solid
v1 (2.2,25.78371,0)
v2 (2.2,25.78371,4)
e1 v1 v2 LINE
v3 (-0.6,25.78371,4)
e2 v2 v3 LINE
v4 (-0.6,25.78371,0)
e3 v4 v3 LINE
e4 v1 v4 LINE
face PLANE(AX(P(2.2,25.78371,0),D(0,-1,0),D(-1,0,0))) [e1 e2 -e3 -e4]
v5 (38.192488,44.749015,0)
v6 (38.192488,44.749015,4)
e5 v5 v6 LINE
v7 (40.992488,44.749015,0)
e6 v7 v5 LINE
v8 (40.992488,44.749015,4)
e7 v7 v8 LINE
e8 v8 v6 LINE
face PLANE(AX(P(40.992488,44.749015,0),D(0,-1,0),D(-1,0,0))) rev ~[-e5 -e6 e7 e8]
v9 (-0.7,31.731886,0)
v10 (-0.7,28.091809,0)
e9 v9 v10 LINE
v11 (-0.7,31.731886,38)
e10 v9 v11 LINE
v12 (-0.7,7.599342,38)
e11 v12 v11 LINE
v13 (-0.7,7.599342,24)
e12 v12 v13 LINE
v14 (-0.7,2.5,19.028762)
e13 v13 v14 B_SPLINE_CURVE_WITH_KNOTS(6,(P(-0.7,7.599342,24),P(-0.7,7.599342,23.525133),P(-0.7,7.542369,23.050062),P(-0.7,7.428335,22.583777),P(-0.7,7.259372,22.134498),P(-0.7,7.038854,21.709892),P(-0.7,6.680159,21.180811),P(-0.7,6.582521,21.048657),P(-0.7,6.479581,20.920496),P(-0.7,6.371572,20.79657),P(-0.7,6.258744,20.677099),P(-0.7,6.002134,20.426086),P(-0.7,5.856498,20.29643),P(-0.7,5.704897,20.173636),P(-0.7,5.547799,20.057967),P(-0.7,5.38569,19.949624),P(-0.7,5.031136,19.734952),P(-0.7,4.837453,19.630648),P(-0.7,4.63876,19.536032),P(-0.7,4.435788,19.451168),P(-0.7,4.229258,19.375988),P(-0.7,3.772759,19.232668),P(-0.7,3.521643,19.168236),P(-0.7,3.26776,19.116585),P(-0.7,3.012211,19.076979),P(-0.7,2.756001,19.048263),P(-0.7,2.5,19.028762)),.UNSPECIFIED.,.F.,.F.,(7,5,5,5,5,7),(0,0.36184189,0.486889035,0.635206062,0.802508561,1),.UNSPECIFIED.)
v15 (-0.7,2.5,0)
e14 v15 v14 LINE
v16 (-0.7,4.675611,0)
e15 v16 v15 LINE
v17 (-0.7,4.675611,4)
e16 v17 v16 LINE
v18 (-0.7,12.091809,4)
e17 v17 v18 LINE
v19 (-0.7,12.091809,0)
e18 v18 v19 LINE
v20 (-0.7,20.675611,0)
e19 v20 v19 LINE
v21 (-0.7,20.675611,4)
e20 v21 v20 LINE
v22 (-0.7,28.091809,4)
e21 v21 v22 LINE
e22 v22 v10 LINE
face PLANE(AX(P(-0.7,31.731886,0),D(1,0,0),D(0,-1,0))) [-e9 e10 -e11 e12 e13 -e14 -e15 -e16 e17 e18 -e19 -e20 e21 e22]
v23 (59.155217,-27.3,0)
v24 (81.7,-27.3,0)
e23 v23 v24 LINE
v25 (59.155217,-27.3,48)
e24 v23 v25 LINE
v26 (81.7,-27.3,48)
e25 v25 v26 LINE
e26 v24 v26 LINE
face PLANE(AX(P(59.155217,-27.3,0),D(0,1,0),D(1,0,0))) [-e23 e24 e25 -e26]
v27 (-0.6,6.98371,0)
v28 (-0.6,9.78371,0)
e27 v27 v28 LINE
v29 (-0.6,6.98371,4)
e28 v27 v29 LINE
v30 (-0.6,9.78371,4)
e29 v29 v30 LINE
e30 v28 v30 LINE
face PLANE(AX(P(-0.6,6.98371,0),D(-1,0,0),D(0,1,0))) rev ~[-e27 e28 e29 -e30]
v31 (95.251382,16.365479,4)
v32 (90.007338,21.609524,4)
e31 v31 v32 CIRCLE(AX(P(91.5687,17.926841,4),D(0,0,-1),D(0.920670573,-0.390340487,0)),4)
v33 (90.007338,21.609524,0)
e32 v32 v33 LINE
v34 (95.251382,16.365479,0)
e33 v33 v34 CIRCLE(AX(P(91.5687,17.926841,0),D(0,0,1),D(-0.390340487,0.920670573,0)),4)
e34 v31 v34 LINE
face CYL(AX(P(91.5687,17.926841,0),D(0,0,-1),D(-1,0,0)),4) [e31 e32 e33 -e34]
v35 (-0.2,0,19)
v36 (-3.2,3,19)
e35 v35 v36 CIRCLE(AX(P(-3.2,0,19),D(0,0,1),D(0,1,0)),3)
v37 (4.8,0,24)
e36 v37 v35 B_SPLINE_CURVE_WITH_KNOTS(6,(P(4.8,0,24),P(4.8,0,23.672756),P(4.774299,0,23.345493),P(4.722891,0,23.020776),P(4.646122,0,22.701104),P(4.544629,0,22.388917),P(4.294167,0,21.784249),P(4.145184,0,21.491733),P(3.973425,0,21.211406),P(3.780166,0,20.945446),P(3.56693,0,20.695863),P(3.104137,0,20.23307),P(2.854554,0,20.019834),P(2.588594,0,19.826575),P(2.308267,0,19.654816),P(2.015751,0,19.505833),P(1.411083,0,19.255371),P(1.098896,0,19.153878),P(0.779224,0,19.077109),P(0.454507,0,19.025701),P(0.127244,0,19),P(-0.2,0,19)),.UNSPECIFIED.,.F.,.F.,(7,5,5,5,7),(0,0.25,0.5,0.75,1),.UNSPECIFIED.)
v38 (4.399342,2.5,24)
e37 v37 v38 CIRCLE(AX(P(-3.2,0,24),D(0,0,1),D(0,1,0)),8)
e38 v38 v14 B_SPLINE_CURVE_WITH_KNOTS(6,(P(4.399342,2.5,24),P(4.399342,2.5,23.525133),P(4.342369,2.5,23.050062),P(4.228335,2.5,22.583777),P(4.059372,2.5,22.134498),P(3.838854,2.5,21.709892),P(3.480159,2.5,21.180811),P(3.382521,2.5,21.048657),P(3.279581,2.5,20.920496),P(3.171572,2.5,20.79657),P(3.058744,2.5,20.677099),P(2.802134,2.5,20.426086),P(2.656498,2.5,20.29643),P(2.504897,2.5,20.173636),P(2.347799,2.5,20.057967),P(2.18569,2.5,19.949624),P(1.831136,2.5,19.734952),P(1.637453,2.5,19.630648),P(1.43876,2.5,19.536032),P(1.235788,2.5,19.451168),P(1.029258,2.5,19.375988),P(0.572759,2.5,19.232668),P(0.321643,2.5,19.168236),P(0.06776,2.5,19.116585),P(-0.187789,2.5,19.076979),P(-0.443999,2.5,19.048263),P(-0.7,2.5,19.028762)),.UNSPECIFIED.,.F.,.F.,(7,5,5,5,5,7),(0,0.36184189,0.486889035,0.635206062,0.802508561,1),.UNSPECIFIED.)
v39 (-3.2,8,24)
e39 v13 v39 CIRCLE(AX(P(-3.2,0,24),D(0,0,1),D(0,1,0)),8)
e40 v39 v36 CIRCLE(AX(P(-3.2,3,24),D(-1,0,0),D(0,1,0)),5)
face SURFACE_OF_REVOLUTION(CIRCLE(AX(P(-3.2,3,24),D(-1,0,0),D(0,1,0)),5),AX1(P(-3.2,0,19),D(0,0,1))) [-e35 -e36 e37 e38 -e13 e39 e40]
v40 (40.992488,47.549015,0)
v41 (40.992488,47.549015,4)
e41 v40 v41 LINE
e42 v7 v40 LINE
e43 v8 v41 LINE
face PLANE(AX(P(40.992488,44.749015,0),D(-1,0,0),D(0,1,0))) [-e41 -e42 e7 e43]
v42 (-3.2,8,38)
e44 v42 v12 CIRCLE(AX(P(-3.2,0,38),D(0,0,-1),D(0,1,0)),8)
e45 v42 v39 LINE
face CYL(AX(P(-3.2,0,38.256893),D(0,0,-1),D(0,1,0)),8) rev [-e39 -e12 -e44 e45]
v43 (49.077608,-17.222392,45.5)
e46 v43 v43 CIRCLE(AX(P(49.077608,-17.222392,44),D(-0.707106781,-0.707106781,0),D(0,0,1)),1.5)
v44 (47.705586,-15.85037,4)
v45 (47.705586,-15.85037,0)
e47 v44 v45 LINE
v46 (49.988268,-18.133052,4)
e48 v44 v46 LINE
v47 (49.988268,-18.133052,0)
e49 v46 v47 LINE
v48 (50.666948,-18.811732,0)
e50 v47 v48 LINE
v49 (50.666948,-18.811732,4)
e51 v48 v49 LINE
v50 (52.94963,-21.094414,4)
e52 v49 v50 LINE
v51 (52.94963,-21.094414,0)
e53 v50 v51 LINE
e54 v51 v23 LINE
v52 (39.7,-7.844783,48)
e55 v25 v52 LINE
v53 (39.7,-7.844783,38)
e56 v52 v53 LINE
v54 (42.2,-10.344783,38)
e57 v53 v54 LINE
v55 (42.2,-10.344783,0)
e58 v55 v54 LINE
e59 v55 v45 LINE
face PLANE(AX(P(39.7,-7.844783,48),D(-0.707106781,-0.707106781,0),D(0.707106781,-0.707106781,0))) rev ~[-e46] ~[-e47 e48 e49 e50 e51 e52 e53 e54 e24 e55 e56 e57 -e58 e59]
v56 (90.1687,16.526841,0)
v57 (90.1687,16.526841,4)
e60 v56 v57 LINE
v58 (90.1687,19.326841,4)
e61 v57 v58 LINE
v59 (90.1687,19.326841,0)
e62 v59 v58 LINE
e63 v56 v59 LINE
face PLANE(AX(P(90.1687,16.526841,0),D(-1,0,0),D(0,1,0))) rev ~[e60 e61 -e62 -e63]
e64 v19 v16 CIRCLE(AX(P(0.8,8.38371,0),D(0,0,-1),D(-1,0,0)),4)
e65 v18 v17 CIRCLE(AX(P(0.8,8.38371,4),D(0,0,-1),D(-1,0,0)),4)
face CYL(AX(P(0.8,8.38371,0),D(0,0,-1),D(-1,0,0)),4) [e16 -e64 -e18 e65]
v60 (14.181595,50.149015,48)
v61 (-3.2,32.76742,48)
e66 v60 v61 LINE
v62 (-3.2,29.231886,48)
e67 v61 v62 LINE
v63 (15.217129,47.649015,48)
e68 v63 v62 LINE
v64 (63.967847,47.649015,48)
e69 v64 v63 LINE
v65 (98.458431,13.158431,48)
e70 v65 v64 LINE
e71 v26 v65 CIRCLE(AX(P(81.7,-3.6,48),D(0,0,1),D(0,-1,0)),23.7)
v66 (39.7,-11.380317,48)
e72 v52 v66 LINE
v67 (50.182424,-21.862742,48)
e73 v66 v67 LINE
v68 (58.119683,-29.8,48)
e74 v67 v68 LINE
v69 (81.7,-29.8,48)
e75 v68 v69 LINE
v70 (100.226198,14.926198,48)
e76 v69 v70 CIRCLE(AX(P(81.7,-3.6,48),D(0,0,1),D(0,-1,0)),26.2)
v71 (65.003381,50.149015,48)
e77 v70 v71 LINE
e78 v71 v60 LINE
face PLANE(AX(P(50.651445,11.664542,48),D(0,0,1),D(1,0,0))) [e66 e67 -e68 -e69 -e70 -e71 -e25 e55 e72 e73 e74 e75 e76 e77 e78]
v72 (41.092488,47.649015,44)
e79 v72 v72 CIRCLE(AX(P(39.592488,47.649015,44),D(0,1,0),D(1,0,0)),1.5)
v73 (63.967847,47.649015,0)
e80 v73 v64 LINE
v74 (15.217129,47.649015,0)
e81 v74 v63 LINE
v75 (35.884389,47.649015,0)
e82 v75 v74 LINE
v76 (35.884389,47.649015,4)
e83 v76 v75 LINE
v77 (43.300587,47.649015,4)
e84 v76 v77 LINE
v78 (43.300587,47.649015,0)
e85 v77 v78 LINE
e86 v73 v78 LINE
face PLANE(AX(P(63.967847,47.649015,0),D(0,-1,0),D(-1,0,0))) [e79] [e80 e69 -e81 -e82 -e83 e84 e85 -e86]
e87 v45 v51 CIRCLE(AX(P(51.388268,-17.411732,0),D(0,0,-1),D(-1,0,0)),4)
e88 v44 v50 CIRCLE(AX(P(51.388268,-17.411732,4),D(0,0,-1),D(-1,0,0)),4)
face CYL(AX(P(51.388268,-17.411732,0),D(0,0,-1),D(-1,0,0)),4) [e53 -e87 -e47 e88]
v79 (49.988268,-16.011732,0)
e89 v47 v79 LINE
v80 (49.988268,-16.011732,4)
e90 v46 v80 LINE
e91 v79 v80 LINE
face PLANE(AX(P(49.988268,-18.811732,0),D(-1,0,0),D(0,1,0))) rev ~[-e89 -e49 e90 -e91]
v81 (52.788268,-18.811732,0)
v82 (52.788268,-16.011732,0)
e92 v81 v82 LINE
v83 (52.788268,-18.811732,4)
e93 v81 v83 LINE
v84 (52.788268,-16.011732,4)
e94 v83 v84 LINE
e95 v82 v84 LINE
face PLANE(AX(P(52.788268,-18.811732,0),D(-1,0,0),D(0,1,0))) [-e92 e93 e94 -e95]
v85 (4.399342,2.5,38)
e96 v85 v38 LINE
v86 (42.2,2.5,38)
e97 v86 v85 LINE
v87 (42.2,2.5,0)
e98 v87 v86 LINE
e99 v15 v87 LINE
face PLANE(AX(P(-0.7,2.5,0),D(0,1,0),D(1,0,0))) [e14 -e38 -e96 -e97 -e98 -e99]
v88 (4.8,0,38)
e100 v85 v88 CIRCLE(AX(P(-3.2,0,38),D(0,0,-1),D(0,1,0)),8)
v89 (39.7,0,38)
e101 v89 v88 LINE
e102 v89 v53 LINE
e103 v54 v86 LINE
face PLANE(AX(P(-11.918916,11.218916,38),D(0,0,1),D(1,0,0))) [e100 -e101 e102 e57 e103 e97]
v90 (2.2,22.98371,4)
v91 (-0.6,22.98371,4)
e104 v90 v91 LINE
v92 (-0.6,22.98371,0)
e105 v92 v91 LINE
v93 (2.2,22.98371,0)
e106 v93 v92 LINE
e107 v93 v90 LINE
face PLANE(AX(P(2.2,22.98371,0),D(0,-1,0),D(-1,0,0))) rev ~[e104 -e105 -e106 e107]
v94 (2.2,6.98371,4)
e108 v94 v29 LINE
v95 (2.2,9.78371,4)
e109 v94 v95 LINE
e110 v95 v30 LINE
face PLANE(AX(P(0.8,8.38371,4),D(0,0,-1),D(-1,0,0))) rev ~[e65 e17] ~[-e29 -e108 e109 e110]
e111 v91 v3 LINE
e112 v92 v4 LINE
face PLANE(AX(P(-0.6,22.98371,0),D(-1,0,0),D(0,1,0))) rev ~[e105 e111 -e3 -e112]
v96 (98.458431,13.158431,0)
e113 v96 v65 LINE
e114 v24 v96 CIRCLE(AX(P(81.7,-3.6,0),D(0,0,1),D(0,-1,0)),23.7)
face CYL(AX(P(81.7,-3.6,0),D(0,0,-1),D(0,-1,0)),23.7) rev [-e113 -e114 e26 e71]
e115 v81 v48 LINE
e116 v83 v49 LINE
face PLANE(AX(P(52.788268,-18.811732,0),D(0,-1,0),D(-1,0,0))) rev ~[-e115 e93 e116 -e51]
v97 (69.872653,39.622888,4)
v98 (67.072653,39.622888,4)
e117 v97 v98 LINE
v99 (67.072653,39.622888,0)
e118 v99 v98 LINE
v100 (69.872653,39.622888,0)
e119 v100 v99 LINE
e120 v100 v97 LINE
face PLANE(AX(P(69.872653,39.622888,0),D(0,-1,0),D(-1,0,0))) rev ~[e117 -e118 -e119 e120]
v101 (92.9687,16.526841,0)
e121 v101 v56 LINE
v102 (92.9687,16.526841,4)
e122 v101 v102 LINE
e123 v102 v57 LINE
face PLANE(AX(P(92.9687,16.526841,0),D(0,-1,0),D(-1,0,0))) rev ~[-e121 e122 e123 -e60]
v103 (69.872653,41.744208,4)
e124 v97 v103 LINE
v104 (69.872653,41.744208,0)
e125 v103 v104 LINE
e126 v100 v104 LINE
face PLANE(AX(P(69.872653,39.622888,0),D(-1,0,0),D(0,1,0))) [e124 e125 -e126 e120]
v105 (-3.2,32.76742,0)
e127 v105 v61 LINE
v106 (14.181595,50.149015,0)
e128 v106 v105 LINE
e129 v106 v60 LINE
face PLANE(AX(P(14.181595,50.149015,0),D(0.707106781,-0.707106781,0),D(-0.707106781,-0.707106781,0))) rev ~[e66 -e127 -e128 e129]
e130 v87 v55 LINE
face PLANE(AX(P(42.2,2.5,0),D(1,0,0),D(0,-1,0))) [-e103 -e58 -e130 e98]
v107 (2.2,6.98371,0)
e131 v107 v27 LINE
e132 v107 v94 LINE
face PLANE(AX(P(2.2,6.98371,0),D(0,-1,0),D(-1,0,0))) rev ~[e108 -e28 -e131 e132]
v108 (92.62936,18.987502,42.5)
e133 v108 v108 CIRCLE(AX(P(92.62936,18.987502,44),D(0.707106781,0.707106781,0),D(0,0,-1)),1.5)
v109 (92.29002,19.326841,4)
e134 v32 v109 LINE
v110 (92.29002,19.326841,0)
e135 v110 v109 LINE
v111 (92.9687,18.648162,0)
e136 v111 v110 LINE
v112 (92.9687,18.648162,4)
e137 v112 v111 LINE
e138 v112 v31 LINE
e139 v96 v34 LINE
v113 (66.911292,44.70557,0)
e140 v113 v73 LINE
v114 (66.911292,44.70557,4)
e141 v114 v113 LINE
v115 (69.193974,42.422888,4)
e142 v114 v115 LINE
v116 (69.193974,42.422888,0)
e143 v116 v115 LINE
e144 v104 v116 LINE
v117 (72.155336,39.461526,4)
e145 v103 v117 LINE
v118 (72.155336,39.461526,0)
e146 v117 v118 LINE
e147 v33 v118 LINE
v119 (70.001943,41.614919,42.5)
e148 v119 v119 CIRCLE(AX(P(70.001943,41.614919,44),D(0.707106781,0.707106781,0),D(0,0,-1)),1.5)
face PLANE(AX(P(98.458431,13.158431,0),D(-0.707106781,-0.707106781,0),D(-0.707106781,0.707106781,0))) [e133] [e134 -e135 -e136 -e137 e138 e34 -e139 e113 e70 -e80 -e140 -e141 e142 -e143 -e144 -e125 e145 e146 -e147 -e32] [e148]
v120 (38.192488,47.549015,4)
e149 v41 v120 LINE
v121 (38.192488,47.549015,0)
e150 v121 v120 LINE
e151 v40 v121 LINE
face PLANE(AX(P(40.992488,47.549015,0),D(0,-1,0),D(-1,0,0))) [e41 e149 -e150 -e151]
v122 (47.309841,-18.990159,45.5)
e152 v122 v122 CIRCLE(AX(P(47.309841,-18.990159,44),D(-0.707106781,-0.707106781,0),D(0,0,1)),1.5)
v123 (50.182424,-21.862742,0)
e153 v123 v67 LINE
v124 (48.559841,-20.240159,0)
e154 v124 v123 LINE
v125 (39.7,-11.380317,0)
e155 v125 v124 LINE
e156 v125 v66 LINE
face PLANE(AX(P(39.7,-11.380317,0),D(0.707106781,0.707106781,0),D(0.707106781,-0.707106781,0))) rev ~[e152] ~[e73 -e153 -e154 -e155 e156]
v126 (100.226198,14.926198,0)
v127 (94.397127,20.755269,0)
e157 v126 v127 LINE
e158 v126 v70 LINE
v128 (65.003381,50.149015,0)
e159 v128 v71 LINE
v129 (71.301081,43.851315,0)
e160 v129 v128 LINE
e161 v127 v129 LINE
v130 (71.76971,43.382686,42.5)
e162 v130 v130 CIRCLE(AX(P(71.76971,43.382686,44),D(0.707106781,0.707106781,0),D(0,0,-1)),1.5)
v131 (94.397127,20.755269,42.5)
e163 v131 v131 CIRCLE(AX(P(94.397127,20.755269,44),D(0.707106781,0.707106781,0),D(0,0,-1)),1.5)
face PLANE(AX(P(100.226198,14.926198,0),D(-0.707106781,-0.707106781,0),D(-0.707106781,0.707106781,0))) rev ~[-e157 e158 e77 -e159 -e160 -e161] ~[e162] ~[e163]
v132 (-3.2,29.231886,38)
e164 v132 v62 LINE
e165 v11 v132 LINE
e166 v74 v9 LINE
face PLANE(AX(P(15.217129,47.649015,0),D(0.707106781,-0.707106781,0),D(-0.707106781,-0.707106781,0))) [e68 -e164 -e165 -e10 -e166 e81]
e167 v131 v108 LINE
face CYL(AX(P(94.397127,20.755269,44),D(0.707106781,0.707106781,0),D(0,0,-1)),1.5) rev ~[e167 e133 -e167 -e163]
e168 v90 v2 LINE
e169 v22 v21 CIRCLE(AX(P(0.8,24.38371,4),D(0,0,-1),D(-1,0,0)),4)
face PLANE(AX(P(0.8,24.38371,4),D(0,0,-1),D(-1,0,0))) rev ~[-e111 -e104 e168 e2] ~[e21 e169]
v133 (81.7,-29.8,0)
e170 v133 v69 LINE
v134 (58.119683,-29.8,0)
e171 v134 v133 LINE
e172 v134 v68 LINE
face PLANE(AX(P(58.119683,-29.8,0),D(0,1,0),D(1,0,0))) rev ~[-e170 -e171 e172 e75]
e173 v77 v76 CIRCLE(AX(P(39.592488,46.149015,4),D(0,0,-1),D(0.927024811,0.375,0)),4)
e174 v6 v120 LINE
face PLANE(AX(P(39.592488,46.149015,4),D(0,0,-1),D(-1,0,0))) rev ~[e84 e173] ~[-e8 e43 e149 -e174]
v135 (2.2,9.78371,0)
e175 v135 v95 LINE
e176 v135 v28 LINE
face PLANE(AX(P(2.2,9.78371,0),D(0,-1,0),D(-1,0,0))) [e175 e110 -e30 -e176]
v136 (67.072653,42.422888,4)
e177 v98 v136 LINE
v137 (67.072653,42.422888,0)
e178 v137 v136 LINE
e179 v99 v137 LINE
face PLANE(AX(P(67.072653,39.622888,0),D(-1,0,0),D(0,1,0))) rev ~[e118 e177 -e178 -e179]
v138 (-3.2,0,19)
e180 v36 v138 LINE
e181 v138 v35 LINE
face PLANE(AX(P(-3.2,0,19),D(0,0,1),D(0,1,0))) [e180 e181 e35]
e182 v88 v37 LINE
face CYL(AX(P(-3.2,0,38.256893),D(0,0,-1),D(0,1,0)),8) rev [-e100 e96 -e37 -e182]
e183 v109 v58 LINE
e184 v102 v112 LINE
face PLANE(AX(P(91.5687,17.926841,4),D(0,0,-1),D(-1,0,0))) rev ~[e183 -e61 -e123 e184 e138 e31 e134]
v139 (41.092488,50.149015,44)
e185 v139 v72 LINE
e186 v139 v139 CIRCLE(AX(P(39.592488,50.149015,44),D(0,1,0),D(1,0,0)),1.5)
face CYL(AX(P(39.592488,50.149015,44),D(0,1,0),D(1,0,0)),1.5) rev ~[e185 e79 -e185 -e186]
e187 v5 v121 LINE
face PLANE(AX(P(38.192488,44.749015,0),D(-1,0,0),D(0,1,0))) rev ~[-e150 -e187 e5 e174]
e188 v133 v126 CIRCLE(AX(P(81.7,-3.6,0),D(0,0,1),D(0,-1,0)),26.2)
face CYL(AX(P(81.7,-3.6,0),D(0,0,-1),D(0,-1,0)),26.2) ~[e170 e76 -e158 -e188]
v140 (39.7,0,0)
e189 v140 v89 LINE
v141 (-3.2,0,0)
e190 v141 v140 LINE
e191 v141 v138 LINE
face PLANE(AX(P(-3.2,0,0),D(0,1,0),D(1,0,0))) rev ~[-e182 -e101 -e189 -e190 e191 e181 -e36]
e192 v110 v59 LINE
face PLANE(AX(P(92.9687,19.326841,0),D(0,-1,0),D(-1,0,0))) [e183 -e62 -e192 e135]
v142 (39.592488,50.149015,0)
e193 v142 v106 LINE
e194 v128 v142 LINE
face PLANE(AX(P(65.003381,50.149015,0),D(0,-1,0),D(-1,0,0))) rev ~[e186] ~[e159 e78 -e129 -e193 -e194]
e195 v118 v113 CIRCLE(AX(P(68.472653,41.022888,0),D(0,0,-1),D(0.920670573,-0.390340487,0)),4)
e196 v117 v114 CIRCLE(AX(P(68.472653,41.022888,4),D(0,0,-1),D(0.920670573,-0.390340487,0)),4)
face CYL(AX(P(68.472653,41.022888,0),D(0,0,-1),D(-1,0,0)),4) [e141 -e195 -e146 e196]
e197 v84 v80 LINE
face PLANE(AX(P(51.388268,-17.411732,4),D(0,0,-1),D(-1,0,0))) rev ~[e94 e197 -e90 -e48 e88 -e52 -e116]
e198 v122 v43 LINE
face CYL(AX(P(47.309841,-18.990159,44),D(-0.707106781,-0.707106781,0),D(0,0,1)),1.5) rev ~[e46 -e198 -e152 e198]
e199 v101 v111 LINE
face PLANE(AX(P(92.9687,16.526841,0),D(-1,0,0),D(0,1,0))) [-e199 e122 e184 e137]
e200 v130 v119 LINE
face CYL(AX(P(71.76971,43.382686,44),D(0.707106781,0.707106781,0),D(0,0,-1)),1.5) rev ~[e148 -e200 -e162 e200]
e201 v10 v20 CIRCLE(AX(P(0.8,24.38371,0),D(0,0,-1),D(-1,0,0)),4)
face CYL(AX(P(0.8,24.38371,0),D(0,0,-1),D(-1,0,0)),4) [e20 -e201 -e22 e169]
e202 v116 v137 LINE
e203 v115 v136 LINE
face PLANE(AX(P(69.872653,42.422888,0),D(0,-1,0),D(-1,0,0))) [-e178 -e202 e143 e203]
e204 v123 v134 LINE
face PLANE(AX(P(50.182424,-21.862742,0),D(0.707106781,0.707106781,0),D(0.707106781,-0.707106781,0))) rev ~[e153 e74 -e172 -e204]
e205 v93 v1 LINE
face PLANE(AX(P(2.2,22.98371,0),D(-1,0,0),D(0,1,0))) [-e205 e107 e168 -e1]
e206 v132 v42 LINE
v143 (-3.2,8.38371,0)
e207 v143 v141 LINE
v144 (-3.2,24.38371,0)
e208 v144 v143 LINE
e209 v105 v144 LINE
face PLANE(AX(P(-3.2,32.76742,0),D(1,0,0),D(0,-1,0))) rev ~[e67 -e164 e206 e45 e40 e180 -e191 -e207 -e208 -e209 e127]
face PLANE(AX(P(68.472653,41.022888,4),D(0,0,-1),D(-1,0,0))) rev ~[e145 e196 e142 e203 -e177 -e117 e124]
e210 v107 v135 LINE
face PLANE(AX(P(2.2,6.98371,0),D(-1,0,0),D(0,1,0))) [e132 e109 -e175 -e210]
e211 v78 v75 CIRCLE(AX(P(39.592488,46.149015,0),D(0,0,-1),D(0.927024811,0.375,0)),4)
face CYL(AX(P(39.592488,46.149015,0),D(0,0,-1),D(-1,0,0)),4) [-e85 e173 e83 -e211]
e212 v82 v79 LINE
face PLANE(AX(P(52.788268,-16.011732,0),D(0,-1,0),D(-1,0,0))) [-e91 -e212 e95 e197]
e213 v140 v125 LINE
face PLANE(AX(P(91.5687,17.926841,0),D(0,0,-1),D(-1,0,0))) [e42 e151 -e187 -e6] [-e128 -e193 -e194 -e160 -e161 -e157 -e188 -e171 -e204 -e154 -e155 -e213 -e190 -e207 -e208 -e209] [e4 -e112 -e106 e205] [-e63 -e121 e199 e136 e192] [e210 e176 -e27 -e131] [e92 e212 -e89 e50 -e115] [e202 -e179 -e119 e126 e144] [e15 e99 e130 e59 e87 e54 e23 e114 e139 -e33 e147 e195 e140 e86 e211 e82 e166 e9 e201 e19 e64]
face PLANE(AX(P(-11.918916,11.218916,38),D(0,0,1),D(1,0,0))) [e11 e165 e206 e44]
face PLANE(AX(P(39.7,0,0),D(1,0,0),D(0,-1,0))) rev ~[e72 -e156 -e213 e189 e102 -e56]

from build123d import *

# Parameters (mm, degrees)
RESSALTO_EXTRUS_O1_DEPTH = 48
ESBO_O12_R               = 1.5
CORTE_EXTRUS_O10_DEPTH   = 10
ESBO_O13_R               = 1.5
CORTE_EXTRUS_O11_DEPTH   = 10
ESBO_O14_R               = 1.5
CORTE_EXTRUS_O12_DEPTH   = 10
ESBO_O15_R               = 1.5
CORTE_EXTRUS_O13_DEPTH   = 10
CORTE_EXTRUS_O14_DEPTH   = 10
ESBO_O17_R               = 4
ESBO_O17_W               = 2.8
ESBO_O17_H               = 2.8
RESSALTO_EXTRUS_O2_DEPTH = 4
CORTE_EXTRUS_O15_DEPTH   = 10


with BuildPart() as part:
    # Model → Ressalto-extrusão1 (new body)
    with BuildSketch(Plane.XY):
        with BuildLine():
            Line((-0.7, 0), (39, 0))
            Line((39, 0), (39.7, 0))
            Line((39.7, 0), (39.7, -11.380317396))
            Line((39.7, -11.380317396), (50.182424304, -21.8627417))
            Line((50.182424304, -21.8627417), (58.119682605, -29.8))
            Line((58.119682605, -29.8), (81.7, -29.8))
            ThreePointArc((81.7, -29.8), (105.905643752, -13.626305928), (100.226197667, 14.926197667))
            Line((100.226197667, 14.926197667), (65.00338056, 50.149014774))
            Line((65.00338056, 50.149014774), (50.111140335, 50.149014774))
            Line((50.111140335, 50.149014774), (14.181595121, 50.149014774))
            Line((14.181595121, 50.149014774), (-3.2, 32.767419653))
            Line((-3.2, 32.767419653), (-3.2, 5))
            Line((-3.2, 5), (-3.2, 0))
            Line((-3.2, 0), (-0.7, 0))
        make_face()
        with BuildLine():
            Line((-0.7, 2.5), (39, 2.5))
            Line((39, 2.5), (39.7, 2.5))
            Line((39.7, 2.5), (42.2, 2.5))
            Line((42.2, 2.5), (42.2, -10.34478349))
            Line((42.2, -10.34478349), (51.950191257, -20.094974747))
            Line((51.950191257, -20.094974747), (59.15521651, -27.3))
            Line((59.15521651, -27.3), (81.7, -27.3))
            ThreePointArc((81.7, -27.3), (103.595944921, -12.669597347), (98.458430714, 13.158430714))
            Line((98.458430714, 13.158430714), (63.967846654, 47.649014774))
            Line((63.967846654, 47.649014774), (50.111140335, 47.649014774))
            Line((50.111140335, 47.649014774), (15.217129027, 47.649014774))
            Line((15.217129027, 47.649014774), (-0.7, 31.731885747))
            Line((-0.7, 31.731885747), (-0.7, 2.5))
        make_face(mode=Mode.SUBTRACT)
    extrude(amount=RESSALTO_EXTRUS_O1_DEPTH)

    # Esboço12 → Corte-extrusão10 (cut)
    with BuildSketch(Plane(origin=(57.576197667, 57.576197667, 0), x_dir=(0, 0, -1), z_dir=(0.707106781, 0.707106781, 0))):
        with Locations((-44, -20.072657306)):
            Circle(ESBO_O12_R)
        with Locations((-44, -52.072657306)):
            Circle(ESBO_O12_R)
    extrude(amount=-CORTE_EXTRUS_O10_DEPTH, mode=Mode.SUBTRACT)

    # Esboço13 → Corte-extrusão11 (cut)
    with BuildSketch(Plane(origin=(0, 50.149014774, 0), x_dir=(1, 0, 0), z_dir=(0, 1, 0))):
        with Locations((39.59248784, -44)):
            Circle(ESBO_O13_R)
    extrude(amount=-CORTE_EXTRUS_O11_DEPTH, mode=Mode.SUBTRACT)

    # Esboço14 → Corte-extrusão12 (cut)
    with BuildSketch(Plane.ZY.offset(3.2)):
        with Locations((44, 23.701037279)):
            Circle(ESBO_O14_R)
        with Locations((44, 7.740898975)):
            Circle(ESBO_O14_R)
    extrude(amount=-CORTE_EXTRUS_O12_DEPTH, mode=Mode.SUBTRACT)

    # Esboço15 → Corte-extrusão13 (cut)
    with BuildSketch(Plane(origin=(14.159841302, 14.159841302, 0), x_dir=(0, 0, 1), z_dir=(-0.707106781, -0.707106781, 0))):
        with Locations((44, -46.881179593)):
            Circle(ESBO_O15_R)
    extrude(amount=-CORTE_EXTRUS_O13_DEPTH, mode=Mode.SUBTRACT)

    # Esboço16 → Corte-extrusão14 (cut)
    with BuildSketch(Plane.XY.offset(48)):
        Polygon((39.7, 0), (39.7, -7.84478349), (42.2, -10.34478349), (42.2, 2.5), (-0.7, 2.5), (-0.7, 0), align=None)
    extrude(amount=-CORTE_EXTRUS_O14_DEPTH, mode=Mode.SUBTRACT)

    # Esboço17 → Ressalto-extrusão2 (add)
    with BuildSketch(Plane(origin=(0, 0, 0), x_dir=(-1, 0, 0), z_dir=(0, 0, -1))):
        with Locations((-91.568699638, 17.926841447)):
            Circle(ESBO_O17_R)
        with Locations((-91.568699638, 17.926841447)):
            Rectangle(ESBO_O17_W, ESBO_O17_H, mode=Mode.SUBTRACT)
        with Locations((-68.47265349, 41.022887595)):
            Circle(ESBO_O17_R)
        with Locations((-68.47265349, 41.022887595)):
            Rectangle(ESBO_O17_W, ESBO_O17_H, mode=Mode.SUBTRACT)
        with Locations((-39.59248784, 46.149014774)):
            Circle(ESBO_O17_R)
        with Locations((-39.59248784, 46.149014774)):
            Rectangle(ESBO_O17_W, ESBO_O17_H, mode=Mode.SUBTRACT)
        with Locations((-0.8, 24.383709827)):
            Circle(ESBO_O17_R)
        with Locations((-0.8, 24.383709827)):
            Rectangle(ESBO_O17_W, ESBO_O17_H, mode=Mode.SUBTRACT)
        with Locations((-0.8, 8.383709827)):
            Circle(ESBO_O17_R)
        with Locations((-0.8, 8.383709827)):
            Rectangle(ESBO_O17_W, ESBO_O17_H, mode=Mode.SUBTRACT)
        with Locations((-51.388268427, -17.411731573)):
            Circle(ESBO_O17_R)
        with Locations((-51.388268427, -17.411731573)):
            Rectangle(ESBO_O17_W, ESBO_O17_H, mode=Mode.SUBTRACT)
    extrude(amount=-RESSALTO_EXTRUS_O2_DEPTH)

    # Esboço18 → Corte-extrusão15 (cut)
    with BuildSketch(Plane.XY.offset(48)):
        Polygon((-0.7, 31.731885747), (-32.431885747, 0), (-0.7, 0), align=None)
    extrude(amount=-CORTE_EXTRUS_O15_DEPTH, mode=Mode.SUBTRACT)

    # Esboço19 → Corte-Revolução1 (revolve, cut)
    with BuildSketch(Plane.ZY.offset(3.2)):
        with BuildLine():
            Line((19, 0), (29, 0))
            Line((29, 0), (38.25689259, 0))
            Line((38.25689259, 0), (38.25689259, 8))
            Line((38.25689259, 8), (24, 8))
            ThreePointArc((24, 8), (20.464466094, 6.535533906), (19, 3))
            Line((19, 3), (19, 0))
        make_face()
    revolve(axis=Axis((-3.2, 0, 19), (0, 0, 1)), mode=Mode.SUBTRACT)


solid = part.part
